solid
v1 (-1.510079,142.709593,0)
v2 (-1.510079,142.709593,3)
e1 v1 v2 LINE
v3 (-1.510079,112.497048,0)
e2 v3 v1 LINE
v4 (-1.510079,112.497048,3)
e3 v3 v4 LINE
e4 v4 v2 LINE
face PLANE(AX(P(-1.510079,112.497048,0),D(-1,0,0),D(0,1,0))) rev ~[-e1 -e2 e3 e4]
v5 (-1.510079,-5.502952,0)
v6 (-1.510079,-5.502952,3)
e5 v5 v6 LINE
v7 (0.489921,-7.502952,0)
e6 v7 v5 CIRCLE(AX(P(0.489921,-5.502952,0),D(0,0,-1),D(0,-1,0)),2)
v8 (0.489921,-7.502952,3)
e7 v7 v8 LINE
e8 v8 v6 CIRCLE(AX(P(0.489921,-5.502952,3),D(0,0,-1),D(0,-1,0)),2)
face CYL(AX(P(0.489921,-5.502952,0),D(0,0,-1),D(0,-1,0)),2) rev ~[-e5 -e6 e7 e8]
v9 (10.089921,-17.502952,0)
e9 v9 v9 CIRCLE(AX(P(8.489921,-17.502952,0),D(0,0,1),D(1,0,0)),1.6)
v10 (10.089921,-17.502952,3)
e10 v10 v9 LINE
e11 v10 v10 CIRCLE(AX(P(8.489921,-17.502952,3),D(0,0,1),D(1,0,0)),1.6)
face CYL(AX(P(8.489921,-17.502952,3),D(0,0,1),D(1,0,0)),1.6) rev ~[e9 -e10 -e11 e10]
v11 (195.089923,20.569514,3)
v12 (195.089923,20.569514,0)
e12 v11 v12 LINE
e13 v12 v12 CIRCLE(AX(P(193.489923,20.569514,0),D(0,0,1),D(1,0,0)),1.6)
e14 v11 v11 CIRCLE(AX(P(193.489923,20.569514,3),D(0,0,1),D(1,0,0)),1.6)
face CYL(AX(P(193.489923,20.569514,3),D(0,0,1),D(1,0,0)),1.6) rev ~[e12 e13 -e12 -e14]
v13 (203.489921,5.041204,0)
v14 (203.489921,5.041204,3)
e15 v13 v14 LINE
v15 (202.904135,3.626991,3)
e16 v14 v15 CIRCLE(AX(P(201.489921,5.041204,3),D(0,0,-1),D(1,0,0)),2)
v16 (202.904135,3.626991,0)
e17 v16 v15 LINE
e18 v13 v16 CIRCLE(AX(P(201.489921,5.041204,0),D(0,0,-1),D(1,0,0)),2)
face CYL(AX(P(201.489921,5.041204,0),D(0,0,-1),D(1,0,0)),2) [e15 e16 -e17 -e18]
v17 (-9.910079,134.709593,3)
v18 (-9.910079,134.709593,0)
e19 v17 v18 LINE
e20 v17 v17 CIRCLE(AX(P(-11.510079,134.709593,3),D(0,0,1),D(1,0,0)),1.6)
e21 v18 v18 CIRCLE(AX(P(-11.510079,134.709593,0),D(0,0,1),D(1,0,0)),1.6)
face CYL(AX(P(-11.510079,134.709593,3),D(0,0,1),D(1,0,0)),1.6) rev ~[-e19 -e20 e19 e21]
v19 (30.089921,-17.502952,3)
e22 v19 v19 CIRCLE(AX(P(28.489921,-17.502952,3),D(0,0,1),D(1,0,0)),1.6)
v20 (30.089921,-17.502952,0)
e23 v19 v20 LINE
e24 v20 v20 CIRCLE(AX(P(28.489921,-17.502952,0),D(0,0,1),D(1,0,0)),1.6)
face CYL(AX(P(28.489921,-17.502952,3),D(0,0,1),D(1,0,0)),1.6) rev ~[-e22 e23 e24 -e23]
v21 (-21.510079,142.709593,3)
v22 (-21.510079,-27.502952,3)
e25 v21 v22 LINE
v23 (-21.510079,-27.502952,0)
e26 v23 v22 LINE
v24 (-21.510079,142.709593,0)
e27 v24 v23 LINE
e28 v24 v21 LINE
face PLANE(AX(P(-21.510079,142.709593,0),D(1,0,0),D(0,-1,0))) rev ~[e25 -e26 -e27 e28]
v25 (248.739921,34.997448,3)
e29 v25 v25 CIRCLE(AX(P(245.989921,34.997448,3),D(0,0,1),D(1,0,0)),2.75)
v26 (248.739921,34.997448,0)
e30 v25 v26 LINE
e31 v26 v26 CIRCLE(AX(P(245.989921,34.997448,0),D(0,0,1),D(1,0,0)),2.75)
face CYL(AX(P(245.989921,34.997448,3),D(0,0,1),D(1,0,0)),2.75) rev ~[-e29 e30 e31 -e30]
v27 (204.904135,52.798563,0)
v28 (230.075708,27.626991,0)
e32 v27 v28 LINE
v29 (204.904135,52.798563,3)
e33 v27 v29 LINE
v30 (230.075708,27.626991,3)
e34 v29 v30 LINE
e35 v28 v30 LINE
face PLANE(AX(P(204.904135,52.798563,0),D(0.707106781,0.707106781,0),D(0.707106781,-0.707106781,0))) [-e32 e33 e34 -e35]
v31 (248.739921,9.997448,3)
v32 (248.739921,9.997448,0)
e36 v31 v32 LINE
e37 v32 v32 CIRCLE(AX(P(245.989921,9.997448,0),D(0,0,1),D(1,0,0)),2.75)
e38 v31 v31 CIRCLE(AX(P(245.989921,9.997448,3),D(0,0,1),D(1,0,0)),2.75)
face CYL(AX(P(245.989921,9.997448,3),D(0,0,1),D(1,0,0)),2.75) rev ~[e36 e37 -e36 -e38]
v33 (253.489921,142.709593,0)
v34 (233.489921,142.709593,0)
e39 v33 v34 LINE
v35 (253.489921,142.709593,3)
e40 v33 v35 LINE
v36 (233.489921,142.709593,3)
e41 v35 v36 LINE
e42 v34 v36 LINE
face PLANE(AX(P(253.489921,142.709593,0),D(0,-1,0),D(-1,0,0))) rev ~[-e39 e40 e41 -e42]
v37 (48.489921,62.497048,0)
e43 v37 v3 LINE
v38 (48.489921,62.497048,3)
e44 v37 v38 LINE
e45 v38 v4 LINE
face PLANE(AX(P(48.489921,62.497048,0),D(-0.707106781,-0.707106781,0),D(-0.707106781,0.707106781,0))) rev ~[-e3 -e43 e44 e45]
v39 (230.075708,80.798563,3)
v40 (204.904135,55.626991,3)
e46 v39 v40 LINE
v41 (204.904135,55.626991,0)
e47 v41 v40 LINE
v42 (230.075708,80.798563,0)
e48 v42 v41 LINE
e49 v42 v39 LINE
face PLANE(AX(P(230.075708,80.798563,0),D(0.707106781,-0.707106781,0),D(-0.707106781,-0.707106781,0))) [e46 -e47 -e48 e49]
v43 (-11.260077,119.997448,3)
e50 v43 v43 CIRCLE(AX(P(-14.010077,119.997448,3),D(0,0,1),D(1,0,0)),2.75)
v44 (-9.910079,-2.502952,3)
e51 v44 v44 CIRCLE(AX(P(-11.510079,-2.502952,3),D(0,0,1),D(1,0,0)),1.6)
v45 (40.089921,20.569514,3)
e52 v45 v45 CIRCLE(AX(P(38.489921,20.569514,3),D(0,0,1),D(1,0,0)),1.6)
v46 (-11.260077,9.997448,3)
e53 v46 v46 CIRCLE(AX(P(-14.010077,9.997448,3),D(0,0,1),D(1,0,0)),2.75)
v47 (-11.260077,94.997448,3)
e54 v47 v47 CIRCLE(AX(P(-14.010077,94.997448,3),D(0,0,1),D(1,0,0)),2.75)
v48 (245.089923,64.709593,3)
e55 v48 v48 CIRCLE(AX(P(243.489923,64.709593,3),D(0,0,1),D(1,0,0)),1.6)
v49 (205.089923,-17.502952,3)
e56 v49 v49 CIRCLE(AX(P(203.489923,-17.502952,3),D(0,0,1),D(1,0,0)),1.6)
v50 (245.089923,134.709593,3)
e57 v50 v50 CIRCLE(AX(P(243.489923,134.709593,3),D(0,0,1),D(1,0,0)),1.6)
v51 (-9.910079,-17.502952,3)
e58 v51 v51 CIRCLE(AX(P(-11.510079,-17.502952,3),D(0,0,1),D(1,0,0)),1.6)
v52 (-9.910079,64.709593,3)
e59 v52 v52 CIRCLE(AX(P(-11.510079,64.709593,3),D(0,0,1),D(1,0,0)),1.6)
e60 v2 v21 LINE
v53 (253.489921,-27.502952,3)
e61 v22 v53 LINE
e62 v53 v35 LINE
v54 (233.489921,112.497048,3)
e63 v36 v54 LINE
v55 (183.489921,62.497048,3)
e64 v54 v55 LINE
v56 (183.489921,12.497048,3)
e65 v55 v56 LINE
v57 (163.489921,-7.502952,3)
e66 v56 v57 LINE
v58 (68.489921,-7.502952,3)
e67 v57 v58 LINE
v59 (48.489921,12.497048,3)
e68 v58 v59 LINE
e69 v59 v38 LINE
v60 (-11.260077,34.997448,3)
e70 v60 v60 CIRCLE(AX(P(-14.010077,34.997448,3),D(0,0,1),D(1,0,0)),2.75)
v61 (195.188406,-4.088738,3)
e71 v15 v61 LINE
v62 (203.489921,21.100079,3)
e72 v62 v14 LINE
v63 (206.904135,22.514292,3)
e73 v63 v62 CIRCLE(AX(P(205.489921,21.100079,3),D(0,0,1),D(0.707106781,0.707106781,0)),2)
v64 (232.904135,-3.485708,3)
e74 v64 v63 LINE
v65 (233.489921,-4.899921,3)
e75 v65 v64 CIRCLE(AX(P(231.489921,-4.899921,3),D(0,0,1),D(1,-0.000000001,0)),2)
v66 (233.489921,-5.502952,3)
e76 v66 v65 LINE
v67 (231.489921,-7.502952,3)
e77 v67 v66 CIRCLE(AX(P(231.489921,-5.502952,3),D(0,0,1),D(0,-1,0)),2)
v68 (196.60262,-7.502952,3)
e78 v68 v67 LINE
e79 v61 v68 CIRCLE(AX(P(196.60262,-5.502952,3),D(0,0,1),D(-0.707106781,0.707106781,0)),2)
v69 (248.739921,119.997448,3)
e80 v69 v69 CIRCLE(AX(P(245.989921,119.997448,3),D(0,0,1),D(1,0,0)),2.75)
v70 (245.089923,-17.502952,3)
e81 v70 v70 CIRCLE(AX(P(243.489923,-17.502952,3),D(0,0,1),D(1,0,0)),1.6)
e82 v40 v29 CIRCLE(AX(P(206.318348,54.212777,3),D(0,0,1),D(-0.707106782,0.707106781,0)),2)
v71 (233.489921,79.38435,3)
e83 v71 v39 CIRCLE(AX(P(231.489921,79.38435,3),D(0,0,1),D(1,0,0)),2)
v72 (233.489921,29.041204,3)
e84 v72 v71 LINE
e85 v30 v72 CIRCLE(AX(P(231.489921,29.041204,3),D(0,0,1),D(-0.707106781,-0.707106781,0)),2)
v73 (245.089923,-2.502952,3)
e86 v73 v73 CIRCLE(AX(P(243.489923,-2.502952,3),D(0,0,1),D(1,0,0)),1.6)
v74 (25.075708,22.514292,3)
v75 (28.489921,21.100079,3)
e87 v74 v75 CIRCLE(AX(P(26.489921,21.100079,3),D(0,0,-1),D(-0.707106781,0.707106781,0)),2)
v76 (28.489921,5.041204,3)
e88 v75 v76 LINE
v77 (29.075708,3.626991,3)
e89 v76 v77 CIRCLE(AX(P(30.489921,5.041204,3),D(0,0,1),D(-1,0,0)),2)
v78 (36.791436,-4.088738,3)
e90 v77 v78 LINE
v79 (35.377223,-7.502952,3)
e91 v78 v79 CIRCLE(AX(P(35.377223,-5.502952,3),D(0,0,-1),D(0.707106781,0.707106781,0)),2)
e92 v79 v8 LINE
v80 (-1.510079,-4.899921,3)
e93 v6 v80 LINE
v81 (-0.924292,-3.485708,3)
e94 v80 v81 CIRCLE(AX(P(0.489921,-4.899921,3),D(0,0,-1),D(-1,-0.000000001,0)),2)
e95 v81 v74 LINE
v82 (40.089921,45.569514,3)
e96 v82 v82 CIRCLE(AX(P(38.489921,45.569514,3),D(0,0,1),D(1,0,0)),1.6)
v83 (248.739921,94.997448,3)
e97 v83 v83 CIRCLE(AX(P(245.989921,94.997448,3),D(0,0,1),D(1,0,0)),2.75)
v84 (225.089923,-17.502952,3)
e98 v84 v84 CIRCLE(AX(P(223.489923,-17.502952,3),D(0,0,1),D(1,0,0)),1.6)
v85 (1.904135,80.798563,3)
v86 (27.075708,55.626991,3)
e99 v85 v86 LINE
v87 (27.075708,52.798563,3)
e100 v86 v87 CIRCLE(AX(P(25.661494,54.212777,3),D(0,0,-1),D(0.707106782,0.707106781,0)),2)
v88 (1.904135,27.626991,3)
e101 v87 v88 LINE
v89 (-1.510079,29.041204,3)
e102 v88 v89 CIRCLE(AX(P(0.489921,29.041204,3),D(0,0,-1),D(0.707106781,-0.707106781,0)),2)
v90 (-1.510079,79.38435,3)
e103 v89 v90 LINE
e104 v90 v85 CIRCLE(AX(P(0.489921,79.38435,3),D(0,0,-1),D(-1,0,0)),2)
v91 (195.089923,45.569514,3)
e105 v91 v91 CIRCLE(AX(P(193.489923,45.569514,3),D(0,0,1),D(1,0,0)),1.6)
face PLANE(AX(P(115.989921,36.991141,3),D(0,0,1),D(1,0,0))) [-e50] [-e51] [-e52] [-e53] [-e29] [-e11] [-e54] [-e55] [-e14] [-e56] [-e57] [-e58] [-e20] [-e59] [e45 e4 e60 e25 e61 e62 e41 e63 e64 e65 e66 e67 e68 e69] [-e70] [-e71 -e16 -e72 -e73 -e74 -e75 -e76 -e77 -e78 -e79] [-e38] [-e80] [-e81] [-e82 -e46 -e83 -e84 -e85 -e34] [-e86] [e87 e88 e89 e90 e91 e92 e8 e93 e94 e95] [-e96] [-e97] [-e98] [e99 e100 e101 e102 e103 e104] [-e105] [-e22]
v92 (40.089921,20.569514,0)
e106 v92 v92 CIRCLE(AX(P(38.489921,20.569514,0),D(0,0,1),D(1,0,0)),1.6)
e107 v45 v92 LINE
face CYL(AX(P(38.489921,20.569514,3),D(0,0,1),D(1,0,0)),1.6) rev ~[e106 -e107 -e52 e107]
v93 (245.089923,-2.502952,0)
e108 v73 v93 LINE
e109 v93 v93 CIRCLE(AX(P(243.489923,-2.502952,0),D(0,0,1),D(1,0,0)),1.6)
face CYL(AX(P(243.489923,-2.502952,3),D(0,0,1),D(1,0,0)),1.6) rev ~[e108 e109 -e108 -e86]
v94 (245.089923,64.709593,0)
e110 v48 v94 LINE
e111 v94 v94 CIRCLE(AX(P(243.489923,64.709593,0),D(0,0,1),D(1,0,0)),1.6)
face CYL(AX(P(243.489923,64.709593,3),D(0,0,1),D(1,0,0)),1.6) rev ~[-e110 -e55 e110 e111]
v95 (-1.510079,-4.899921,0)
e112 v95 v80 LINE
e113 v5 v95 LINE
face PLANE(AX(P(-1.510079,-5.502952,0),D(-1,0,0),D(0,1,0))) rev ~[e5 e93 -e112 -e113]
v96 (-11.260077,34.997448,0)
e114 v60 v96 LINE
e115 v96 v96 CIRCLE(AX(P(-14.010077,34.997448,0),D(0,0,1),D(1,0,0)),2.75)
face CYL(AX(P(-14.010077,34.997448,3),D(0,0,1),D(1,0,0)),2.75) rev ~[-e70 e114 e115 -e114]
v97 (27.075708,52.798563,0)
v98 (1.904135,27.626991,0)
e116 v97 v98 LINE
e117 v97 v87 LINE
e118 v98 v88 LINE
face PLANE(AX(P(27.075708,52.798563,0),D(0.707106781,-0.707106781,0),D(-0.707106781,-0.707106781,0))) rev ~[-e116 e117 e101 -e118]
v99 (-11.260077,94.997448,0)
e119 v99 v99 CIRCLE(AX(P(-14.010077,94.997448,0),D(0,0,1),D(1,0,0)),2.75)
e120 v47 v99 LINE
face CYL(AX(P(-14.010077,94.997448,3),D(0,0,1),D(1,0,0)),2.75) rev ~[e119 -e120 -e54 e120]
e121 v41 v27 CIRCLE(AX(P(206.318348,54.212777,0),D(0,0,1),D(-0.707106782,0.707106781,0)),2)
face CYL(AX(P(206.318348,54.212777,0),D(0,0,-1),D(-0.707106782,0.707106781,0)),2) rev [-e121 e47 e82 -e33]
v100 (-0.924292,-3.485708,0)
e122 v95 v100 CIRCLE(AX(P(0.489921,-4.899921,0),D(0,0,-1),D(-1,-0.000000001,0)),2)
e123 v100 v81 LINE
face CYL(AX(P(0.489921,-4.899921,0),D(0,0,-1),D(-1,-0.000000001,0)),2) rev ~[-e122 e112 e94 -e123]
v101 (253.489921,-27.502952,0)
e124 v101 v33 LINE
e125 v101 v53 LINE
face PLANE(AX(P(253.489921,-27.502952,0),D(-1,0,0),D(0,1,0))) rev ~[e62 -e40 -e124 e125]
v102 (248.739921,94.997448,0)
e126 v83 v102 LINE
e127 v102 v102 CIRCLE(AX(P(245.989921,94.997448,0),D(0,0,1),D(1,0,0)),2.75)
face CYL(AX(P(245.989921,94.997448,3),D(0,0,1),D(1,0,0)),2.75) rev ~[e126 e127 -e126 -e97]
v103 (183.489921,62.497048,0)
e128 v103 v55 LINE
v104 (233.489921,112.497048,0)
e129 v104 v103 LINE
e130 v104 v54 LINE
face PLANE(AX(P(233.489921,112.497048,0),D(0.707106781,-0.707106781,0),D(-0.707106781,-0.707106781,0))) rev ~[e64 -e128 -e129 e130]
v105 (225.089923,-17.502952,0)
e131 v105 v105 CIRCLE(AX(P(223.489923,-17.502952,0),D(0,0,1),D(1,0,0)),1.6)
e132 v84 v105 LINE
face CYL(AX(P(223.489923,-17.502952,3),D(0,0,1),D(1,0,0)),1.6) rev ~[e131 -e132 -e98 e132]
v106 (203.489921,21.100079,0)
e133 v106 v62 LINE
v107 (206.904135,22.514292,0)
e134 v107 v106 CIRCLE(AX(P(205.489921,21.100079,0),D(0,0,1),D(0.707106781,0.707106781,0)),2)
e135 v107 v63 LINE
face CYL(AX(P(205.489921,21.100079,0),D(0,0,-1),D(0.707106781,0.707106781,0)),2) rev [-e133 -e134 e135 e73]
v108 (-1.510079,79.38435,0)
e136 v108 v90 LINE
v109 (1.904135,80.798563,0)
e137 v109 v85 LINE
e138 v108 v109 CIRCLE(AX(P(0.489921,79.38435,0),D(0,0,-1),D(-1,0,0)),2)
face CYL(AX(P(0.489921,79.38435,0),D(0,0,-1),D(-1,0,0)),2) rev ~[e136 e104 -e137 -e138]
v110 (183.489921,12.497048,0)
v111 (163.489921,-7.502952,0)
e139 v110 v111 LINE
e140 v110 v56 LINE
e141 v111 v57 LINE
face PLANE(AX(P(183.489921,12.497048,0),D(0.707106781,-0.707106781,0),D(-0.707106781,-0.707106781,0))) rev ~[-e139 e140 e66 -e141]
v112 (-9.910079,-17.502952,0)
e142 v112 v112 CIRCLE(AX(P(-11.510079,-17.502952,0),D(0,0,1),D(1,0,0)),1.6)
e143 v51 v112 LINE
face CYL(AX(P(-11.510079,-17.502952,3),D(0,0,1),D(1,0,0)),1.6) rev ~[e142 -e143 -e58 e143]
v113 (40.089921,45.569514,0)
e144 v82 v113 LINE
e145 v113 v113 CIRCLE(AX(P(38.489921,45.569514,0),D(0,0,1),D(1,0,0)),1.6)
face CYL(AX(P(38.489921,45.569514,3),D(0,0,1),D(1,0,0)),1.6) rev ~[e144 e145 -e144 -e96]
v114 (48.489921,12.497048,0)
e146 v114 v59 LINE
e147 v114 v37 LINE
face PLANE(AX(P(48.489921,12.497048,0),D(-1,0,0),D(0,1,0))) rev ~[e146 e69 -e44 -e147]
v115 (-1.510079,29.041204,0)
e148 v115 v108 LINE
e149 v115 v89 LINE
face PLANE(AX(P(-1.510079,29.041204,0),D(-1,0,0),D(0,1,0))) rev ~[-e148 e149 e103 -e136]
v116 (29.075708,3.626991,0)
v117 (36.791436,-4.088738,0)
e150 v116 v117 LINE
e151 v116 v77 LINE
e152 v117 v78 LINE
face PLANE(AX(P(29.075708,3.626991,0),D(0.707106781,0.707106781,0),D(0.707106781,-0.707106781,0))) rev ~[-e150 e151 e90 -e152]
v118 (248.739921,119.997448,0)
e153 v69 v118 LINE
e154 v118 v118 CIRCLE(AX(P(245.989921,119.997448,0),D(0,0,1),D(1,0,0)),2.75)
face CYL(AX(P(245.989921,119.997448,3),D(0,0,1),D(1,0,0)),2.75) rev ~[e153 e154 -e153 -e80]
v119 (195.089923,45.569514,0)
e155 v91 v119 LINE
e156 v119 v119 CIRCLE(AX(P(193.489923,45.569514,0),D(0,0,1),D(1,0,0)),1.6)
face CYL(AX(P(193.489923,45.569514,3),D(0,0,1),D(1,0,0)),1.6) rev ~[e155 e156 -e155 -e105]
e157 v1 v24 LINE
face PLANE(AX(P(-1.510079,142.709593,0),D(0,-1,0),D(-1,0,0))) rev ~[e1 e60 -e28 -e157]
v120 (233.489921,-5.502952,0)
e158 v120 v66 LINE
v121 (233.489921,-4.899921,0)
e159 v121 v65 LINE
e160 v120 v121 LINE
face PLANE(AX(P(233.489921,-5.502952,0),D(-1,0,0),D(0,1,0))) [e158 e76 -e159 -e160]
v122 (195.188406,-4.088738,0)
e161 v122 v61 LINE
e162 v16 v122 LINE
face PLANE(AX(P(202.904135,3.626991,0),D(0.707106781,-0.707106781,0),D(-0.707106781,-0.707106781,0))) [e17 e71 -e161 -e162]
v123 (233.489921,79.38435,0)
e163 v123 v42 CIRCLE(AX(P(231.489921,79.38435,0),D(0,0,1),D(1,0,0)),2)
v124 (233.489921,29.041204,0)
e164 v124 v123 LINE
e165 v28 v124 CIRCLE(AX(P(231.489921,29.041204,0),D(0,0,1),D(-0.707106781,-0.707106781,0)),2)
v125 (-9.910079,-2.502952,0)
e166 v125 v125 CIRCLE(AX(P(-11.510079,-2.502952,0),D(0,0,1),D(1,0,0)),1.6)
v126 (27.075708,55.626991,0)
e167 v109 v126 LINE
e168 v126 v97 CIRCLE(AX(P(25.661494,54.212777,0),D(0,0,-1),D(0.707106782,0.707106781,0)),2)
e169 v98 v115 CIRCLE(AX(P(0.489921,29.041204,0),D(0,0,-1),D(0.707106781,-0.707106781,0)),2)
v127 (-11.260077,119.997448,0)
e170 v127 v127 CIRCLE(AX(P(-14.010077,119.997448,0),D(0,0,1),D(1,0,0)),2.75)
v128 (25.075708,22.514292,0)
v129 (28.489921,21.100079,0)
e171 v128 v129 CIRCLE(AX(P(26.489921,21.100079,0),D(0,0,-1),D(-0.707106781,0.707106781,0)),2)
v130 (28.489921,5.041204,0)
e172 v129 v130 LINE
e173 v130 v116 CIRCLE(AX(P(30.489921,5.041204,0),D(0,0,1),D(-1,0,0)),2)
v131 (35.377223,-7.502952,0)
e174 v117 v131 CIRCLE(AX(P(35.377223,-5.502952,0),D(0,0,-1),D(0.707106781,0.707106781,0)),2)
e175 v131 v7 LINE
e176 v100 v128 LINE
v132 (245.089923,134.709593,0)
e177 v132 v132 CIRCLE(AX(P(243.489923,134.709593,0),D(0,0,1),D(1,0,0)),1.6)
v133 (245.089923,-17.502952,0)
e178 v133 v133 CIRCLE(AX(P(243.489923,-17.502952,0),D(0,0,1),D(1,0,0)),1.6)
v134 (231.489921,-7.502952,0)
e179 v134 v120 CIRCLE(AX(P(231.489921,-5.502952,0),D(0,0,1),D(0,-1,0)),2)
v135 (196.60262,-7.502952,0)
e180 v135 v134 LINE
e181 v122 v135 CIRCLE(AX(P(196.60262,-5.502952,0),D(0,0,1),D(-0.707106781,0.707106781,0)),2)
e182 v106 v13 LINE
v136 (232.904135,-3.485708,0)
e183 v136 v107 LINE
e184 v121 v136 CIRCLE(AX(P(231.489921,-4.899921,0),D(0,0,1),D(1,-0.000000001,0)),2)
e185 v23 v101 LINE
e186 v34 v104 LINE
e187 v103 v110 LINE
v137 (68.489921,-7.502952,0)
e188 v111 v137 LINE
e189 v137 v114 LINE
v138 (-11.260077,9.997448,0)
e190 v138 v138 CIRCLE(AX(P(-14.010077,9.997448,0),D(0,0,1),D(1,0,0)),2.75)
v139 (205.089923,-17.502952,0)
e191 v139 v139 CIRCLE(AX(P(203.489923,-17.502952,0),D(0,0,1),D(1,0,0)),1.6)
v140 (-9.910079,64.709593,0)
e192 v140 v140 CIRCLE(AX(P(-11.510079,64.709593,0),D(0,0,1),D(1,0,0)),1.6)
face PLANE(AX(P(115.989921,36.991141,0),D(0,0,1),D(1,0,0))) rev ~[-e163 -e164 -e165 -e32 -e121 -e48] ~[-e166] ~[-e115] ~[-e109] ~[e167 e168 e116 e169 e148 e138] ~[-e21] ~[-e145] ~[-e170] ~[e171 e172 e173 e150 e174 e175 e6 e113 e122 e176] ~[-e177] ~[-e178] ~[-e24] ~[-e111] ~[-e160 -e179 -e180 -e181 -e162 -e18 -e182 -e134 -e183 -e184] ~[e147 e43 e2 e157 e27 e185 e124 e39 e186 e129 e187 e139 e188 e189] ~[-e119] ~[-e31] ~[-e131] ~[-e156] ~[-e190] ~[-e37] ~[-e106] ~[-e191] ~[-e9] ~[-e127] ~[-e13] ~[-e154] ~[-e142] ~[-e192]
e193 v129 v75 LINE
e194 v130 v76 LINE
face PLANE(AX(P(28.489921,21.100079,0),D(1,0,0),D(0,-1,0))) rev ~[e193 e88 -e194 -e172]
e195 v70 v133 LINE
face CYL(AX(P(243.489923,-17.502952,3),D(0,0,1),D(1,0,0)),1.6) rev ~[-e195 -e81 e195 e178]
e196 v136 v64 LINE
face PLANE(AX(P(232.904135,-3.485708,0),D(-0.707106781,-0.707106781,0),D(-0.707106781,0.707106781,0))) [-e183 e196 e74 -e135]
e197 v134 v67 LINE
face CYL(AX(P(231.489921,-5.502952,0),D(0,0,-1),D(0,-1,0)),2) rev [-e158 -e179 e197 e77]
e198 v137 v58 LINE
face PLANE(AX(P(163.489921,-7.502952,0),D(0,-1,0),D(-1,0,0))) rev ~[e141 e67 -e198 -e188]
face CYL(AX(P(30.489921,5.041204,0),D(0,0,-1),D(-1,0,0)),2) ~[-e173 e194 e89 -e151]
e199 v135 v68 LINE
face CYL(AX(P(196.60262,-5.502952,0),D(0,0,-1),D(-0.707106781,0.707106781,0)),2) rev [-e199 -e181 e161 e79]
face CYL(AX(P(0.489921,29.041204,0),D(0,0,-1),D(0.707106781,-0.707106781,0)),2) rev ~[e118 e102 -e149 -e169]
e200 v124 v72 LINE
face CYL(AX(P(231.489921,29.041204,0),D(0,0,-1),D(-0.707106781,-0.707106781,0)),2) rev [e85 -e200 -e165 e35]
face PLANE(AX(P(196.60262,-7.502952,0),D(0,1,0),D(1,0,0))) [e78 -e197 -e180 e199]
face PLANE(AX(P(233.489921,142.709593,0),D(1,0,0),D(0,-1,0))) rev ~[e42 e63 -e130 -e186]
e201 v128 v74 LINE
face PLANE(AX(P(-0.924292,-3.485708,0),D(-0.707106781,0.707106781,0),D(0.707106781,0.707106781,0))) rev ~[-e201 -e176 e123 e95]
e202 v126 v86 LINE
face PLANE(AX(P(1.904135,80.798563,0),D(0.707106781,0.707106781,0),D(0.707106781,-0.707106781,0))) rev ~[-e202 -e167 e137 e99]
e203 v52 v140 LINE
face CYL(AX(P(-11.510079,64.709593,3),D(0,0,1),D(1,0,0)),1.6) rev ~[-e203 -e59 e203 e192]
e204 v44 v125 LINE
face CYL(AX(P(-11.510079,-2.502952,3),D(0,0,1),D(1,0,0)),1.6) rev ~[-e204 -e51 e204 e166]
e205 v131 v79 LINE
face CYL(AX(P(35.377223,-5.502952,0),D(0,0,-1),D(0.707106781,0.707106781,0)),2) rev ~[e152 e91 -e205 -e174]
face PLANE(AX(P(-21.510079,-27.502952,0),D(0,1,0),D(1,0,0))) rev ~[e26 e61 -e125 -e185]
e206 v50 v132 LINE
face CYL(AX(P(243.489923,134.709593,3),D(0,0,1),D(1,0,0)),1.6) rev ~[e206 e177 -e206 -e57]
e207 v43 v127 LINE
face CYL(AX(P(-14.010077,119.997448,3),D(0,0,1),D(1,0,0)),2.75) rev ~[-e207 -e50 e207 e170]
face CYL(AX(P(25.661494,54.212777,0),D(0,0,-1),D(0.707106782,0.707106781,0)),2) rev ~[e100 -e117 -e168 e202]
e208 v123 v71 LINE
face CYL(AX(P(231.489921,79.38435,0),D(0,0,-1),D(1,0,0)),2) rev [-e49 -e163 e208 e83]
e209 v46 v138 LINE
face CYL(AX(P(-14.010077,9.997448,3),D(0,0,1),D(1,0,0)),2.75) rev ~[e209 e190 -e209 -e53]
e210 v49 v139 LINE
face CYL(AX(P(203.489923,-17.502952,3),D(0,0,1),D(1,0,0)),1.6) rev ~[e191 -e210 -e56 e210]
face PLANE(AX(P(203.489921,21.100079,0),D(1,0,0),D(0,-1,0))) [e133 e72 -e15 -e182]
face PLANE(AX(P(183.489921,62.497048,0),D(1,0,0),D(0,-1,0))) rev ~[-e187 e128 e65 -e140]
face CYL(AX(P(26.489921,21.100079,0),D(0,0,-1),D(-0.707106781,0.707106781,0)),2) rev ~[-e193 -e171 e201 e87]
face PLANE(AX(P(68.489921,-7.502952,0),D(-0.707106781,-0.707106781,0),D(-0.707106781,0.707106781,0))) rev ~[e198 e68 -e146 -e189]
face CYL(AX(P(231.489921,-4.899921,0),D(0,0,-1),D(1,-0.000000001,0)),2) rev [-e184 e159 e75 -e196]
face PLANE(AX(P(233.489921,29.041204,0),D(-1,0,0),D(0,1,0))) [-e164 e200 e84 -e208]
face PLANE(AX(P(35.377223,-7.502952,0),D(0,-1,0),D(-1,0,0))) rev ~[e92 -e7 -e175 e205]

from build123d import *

# Parameters (mm, degrees)
EXTRUDE1_DEPTH     = 3
SKETCH2_R          = 2.75
SKETCH2_R_2        = 1.6
CUT_EXTRUDE1_DEPTH = 3


with BuildPart() as part:
    # Sketch1 → Extrude1 (new body)
    with BuildSketch(Plane.XY):
        Polygon((-21.510078765, 142.709593142), (-21.510078765, -27.502951786), (253.489921235, -27.502951786), (253.489921235, 142.709593142), (233.489921235, 142.709593142), (233.489921235, 112.497048214), (183.489921235, 62.497048214), (183.489921235, 12.497048214), (163.489921235, -7.502951786), (68.489921235, -7.502951786), (48.489921235, 12.497048214), (48.489921235, 62.497048214), (-1.510078765, 112.497048214), (-1.510078765, 142.709593142), align=None)
        with BuildLine():
            Line((-1.510078765, -5.502951786), (-1.510078765, -4.899921406))
            ThreePointArc((-1.510078765, -4.899921406), (-1.35783783, -4.134554541), (-0.924292327, -3.485707844))
            Line((-0.924292327, -3.485707844), (25.075707673, 22.514292156))
            ThreePointArc((25.075707673, 22.514292156), (27.2552881, 22.947837659), (28.489921235, 21.100078594))
            Line((28.489921235, 21.100078594), (28.489921235, 5.041204091))
            ThreePointArc((28.489921235, 5.041204091), (28.64216217, 4.275837226), (29.075707673, 3.626990528))
            Line((29.075707673, 3.626990528), (36.791436425, -4.088738224))
            ThreePointArc((36.791436425, -4.088738224), (37.224981928, -6.268318651), (35.377222863, -7.502951786))
            Line((35.377222863, -7.502951786), (0.489921235, -7.502951786))
            ThreePointArc((0.489921235, -7.502951786), (-0.924292327, -6.917165349), (-1.510078765, -5.502951786))
        make_face(mode=Mode.SUBTRACT)
        with BuildLine():
            Line((1.904134797, 80.798563404), (27.075707673, 55.626990528))
            ThreePointArc((27.075707673, 55.626990528), (27.66149411, 54.212776966), (27.075707673, 52.798563404))
            Line((27.075707673, 52.798563404), (1.904134797, 27.626990528))
            ThreePointArc((1.904134797, 27.626990528), (-0.27544563, 27.193445026), (-1.510078765, 29.041204091))
            Line((-1.510078765, 29.041204091), (-1.510078765, 79.384349841))
            ThreePointArc((-1.510078765, 79.384349841), (-0.27544563, 81.232108906), (1.904134797, 80.798563404))
        make_face(mode=Mode.SUBTRACT)
        with BuildLine():
            Line((233.489921235, 29.041204091), (233.489921235, 79.384349841))
            ThreePointArc((233.489921235, 79.384349841), (232.2552881, 81.232108906), (230.075707673, 80.798563404))
            Line((230.075707673, 80.798563404), (204.904134797, 55.626990528))
            ThreePointArc((204.904134797, 55.626990528), (204.31834836, 54.212776966), (204.904134797, 52.798563404))
            Line((204.904134797, 52.798563404), (230.075707673, 27.626990528))
            ThreePointArc((230.075707673, 27.626990528), (232.2552881, 27.193445026), (233.489921235, 29.041204091))
        make_face(mode=Mode.SUBTRACT)
        with BuildLine():
            Line((232.904134797, -3.485707844), (206.904134797, 22.514292156))
            ThreePointArc((206.904134797, 22.514292156), (204.72455437, 22.947837659), (203.489921235, 21.100078594))
            Line((203.489921235, 21.100078594), (203.489921235, 5.041204091))
            ThreePointArc((203.489921235, 5.041204091), (203.3376803, 4.275837226), (202.904134797, 3.626990528))
            Line((202.904134797, 3.626990528), (195.188406045, -4.088738224))
            ThreePointArc((195.188406045, -4.088738224), (194.754860542, -6.268318651), (196.602619607, -7.502951786))
            Line((196.602619607, -7.502951786), (231.489921235, -7.502951786))
            ThreePointArc((231.489921235, -7.502951786), (232.904134797, -6.917165349), (233.489921235, -5.502951786))
            Line((233.489921235, -5.502951786), (233.489921235, -4.899921406))
            ThreePointArc((233.489921235, -4.899921406), (233.3376803, -4.134554541), (232.904134797, -3.485707844))
        make_face(mode=Mode.SUBTRACT)
    extrude(amount=EXTRUDE1_DEPTH)

    # Sketch2 → Cut-Extrude1 (cut)
    with BuildSketch(Plane.XY.offset(3)):
        with Locations((-14.010076813, 119.997448214)):
            Circle(SKETCH2_R)
        with Locations((-14.010076813, 94.997448214)):
            Circle(SKETCH2_R)
        with Locations((-14.010076813, 34.997448214)):
            Circle(SKETCH2_R)
        with Locations((-14.010076813, 9.997448214)):
            Circle(SKETCH2_R)
        with Locations((-11.510078765, -2.502951786)):
            Circle(SKETCH2_R_2)
        with Locations((-11.510078765, -17.502951786)):
            Circle(SKETCH2_R_2)
        with Locations((8.489921235, -17.502951786)):
            Circle(SKETCH2_R_2)
        with Locations((28.489921235, -17.502951786)):
            Circle(SKETCH2_R_2)
        with Locations((38.489921235, 20.569514271)):
            Circle(SKETCH2_R_2)
        with Locations((38.489921235, 45.569514271)):
            Circle(SKETCH2_R_2)
        with Locations((-11.510078765, 64.709593142)):
            Circle(SKETCH2_R_2)
        with Locations((193.489923187, 45.569514271)):
            Circle(SKETCH2_R_2)
        with Locations((193.489923187, 20.569514271)):
            Circle(SKETCH2_R_2)
        with Locations((203.489923187, -17.502951786)):
            Circle(SKETCH2_R_2)
        with Locations((223.489923187, -17.502951786)):
            Circle(SKETCH2_R_2)
        with Locations((243.489923187, -17.502951786)):
            Circle(SKETCH2_R_2)
        with Locations((245.989921235, 34.997448214)):
            Circle(SKETCH2_R)
        with Locations((245.989921235, 9.997448214)):
            Circle(SKETCH2_R)
        with Locations((243.489923187, 64.709593142)):
            Circle(SKETCH2_R_2)
        with Locations((243.489923187, 134.709593142)):
            Circle(SKETCH2_R_2)
        with Locations((245.989921235, 119.997448214)):
            Circle(SKETCH2_R)
        with Locations((245.989921235, 94.997448214)):
            Circle(SKETCH2_R)
        with Locations((-11.510078765, 134.709593142)):
            Circle(SKETCH2_R_2)
        with Locations((243.489923187, -2.502951786)):
            Circle(SKETCH2_R_2)
    extrude(amount=-CUT_EXTRUDE1_DEPTH, mode=Mode.SUBTRACT)


solid = part.part
